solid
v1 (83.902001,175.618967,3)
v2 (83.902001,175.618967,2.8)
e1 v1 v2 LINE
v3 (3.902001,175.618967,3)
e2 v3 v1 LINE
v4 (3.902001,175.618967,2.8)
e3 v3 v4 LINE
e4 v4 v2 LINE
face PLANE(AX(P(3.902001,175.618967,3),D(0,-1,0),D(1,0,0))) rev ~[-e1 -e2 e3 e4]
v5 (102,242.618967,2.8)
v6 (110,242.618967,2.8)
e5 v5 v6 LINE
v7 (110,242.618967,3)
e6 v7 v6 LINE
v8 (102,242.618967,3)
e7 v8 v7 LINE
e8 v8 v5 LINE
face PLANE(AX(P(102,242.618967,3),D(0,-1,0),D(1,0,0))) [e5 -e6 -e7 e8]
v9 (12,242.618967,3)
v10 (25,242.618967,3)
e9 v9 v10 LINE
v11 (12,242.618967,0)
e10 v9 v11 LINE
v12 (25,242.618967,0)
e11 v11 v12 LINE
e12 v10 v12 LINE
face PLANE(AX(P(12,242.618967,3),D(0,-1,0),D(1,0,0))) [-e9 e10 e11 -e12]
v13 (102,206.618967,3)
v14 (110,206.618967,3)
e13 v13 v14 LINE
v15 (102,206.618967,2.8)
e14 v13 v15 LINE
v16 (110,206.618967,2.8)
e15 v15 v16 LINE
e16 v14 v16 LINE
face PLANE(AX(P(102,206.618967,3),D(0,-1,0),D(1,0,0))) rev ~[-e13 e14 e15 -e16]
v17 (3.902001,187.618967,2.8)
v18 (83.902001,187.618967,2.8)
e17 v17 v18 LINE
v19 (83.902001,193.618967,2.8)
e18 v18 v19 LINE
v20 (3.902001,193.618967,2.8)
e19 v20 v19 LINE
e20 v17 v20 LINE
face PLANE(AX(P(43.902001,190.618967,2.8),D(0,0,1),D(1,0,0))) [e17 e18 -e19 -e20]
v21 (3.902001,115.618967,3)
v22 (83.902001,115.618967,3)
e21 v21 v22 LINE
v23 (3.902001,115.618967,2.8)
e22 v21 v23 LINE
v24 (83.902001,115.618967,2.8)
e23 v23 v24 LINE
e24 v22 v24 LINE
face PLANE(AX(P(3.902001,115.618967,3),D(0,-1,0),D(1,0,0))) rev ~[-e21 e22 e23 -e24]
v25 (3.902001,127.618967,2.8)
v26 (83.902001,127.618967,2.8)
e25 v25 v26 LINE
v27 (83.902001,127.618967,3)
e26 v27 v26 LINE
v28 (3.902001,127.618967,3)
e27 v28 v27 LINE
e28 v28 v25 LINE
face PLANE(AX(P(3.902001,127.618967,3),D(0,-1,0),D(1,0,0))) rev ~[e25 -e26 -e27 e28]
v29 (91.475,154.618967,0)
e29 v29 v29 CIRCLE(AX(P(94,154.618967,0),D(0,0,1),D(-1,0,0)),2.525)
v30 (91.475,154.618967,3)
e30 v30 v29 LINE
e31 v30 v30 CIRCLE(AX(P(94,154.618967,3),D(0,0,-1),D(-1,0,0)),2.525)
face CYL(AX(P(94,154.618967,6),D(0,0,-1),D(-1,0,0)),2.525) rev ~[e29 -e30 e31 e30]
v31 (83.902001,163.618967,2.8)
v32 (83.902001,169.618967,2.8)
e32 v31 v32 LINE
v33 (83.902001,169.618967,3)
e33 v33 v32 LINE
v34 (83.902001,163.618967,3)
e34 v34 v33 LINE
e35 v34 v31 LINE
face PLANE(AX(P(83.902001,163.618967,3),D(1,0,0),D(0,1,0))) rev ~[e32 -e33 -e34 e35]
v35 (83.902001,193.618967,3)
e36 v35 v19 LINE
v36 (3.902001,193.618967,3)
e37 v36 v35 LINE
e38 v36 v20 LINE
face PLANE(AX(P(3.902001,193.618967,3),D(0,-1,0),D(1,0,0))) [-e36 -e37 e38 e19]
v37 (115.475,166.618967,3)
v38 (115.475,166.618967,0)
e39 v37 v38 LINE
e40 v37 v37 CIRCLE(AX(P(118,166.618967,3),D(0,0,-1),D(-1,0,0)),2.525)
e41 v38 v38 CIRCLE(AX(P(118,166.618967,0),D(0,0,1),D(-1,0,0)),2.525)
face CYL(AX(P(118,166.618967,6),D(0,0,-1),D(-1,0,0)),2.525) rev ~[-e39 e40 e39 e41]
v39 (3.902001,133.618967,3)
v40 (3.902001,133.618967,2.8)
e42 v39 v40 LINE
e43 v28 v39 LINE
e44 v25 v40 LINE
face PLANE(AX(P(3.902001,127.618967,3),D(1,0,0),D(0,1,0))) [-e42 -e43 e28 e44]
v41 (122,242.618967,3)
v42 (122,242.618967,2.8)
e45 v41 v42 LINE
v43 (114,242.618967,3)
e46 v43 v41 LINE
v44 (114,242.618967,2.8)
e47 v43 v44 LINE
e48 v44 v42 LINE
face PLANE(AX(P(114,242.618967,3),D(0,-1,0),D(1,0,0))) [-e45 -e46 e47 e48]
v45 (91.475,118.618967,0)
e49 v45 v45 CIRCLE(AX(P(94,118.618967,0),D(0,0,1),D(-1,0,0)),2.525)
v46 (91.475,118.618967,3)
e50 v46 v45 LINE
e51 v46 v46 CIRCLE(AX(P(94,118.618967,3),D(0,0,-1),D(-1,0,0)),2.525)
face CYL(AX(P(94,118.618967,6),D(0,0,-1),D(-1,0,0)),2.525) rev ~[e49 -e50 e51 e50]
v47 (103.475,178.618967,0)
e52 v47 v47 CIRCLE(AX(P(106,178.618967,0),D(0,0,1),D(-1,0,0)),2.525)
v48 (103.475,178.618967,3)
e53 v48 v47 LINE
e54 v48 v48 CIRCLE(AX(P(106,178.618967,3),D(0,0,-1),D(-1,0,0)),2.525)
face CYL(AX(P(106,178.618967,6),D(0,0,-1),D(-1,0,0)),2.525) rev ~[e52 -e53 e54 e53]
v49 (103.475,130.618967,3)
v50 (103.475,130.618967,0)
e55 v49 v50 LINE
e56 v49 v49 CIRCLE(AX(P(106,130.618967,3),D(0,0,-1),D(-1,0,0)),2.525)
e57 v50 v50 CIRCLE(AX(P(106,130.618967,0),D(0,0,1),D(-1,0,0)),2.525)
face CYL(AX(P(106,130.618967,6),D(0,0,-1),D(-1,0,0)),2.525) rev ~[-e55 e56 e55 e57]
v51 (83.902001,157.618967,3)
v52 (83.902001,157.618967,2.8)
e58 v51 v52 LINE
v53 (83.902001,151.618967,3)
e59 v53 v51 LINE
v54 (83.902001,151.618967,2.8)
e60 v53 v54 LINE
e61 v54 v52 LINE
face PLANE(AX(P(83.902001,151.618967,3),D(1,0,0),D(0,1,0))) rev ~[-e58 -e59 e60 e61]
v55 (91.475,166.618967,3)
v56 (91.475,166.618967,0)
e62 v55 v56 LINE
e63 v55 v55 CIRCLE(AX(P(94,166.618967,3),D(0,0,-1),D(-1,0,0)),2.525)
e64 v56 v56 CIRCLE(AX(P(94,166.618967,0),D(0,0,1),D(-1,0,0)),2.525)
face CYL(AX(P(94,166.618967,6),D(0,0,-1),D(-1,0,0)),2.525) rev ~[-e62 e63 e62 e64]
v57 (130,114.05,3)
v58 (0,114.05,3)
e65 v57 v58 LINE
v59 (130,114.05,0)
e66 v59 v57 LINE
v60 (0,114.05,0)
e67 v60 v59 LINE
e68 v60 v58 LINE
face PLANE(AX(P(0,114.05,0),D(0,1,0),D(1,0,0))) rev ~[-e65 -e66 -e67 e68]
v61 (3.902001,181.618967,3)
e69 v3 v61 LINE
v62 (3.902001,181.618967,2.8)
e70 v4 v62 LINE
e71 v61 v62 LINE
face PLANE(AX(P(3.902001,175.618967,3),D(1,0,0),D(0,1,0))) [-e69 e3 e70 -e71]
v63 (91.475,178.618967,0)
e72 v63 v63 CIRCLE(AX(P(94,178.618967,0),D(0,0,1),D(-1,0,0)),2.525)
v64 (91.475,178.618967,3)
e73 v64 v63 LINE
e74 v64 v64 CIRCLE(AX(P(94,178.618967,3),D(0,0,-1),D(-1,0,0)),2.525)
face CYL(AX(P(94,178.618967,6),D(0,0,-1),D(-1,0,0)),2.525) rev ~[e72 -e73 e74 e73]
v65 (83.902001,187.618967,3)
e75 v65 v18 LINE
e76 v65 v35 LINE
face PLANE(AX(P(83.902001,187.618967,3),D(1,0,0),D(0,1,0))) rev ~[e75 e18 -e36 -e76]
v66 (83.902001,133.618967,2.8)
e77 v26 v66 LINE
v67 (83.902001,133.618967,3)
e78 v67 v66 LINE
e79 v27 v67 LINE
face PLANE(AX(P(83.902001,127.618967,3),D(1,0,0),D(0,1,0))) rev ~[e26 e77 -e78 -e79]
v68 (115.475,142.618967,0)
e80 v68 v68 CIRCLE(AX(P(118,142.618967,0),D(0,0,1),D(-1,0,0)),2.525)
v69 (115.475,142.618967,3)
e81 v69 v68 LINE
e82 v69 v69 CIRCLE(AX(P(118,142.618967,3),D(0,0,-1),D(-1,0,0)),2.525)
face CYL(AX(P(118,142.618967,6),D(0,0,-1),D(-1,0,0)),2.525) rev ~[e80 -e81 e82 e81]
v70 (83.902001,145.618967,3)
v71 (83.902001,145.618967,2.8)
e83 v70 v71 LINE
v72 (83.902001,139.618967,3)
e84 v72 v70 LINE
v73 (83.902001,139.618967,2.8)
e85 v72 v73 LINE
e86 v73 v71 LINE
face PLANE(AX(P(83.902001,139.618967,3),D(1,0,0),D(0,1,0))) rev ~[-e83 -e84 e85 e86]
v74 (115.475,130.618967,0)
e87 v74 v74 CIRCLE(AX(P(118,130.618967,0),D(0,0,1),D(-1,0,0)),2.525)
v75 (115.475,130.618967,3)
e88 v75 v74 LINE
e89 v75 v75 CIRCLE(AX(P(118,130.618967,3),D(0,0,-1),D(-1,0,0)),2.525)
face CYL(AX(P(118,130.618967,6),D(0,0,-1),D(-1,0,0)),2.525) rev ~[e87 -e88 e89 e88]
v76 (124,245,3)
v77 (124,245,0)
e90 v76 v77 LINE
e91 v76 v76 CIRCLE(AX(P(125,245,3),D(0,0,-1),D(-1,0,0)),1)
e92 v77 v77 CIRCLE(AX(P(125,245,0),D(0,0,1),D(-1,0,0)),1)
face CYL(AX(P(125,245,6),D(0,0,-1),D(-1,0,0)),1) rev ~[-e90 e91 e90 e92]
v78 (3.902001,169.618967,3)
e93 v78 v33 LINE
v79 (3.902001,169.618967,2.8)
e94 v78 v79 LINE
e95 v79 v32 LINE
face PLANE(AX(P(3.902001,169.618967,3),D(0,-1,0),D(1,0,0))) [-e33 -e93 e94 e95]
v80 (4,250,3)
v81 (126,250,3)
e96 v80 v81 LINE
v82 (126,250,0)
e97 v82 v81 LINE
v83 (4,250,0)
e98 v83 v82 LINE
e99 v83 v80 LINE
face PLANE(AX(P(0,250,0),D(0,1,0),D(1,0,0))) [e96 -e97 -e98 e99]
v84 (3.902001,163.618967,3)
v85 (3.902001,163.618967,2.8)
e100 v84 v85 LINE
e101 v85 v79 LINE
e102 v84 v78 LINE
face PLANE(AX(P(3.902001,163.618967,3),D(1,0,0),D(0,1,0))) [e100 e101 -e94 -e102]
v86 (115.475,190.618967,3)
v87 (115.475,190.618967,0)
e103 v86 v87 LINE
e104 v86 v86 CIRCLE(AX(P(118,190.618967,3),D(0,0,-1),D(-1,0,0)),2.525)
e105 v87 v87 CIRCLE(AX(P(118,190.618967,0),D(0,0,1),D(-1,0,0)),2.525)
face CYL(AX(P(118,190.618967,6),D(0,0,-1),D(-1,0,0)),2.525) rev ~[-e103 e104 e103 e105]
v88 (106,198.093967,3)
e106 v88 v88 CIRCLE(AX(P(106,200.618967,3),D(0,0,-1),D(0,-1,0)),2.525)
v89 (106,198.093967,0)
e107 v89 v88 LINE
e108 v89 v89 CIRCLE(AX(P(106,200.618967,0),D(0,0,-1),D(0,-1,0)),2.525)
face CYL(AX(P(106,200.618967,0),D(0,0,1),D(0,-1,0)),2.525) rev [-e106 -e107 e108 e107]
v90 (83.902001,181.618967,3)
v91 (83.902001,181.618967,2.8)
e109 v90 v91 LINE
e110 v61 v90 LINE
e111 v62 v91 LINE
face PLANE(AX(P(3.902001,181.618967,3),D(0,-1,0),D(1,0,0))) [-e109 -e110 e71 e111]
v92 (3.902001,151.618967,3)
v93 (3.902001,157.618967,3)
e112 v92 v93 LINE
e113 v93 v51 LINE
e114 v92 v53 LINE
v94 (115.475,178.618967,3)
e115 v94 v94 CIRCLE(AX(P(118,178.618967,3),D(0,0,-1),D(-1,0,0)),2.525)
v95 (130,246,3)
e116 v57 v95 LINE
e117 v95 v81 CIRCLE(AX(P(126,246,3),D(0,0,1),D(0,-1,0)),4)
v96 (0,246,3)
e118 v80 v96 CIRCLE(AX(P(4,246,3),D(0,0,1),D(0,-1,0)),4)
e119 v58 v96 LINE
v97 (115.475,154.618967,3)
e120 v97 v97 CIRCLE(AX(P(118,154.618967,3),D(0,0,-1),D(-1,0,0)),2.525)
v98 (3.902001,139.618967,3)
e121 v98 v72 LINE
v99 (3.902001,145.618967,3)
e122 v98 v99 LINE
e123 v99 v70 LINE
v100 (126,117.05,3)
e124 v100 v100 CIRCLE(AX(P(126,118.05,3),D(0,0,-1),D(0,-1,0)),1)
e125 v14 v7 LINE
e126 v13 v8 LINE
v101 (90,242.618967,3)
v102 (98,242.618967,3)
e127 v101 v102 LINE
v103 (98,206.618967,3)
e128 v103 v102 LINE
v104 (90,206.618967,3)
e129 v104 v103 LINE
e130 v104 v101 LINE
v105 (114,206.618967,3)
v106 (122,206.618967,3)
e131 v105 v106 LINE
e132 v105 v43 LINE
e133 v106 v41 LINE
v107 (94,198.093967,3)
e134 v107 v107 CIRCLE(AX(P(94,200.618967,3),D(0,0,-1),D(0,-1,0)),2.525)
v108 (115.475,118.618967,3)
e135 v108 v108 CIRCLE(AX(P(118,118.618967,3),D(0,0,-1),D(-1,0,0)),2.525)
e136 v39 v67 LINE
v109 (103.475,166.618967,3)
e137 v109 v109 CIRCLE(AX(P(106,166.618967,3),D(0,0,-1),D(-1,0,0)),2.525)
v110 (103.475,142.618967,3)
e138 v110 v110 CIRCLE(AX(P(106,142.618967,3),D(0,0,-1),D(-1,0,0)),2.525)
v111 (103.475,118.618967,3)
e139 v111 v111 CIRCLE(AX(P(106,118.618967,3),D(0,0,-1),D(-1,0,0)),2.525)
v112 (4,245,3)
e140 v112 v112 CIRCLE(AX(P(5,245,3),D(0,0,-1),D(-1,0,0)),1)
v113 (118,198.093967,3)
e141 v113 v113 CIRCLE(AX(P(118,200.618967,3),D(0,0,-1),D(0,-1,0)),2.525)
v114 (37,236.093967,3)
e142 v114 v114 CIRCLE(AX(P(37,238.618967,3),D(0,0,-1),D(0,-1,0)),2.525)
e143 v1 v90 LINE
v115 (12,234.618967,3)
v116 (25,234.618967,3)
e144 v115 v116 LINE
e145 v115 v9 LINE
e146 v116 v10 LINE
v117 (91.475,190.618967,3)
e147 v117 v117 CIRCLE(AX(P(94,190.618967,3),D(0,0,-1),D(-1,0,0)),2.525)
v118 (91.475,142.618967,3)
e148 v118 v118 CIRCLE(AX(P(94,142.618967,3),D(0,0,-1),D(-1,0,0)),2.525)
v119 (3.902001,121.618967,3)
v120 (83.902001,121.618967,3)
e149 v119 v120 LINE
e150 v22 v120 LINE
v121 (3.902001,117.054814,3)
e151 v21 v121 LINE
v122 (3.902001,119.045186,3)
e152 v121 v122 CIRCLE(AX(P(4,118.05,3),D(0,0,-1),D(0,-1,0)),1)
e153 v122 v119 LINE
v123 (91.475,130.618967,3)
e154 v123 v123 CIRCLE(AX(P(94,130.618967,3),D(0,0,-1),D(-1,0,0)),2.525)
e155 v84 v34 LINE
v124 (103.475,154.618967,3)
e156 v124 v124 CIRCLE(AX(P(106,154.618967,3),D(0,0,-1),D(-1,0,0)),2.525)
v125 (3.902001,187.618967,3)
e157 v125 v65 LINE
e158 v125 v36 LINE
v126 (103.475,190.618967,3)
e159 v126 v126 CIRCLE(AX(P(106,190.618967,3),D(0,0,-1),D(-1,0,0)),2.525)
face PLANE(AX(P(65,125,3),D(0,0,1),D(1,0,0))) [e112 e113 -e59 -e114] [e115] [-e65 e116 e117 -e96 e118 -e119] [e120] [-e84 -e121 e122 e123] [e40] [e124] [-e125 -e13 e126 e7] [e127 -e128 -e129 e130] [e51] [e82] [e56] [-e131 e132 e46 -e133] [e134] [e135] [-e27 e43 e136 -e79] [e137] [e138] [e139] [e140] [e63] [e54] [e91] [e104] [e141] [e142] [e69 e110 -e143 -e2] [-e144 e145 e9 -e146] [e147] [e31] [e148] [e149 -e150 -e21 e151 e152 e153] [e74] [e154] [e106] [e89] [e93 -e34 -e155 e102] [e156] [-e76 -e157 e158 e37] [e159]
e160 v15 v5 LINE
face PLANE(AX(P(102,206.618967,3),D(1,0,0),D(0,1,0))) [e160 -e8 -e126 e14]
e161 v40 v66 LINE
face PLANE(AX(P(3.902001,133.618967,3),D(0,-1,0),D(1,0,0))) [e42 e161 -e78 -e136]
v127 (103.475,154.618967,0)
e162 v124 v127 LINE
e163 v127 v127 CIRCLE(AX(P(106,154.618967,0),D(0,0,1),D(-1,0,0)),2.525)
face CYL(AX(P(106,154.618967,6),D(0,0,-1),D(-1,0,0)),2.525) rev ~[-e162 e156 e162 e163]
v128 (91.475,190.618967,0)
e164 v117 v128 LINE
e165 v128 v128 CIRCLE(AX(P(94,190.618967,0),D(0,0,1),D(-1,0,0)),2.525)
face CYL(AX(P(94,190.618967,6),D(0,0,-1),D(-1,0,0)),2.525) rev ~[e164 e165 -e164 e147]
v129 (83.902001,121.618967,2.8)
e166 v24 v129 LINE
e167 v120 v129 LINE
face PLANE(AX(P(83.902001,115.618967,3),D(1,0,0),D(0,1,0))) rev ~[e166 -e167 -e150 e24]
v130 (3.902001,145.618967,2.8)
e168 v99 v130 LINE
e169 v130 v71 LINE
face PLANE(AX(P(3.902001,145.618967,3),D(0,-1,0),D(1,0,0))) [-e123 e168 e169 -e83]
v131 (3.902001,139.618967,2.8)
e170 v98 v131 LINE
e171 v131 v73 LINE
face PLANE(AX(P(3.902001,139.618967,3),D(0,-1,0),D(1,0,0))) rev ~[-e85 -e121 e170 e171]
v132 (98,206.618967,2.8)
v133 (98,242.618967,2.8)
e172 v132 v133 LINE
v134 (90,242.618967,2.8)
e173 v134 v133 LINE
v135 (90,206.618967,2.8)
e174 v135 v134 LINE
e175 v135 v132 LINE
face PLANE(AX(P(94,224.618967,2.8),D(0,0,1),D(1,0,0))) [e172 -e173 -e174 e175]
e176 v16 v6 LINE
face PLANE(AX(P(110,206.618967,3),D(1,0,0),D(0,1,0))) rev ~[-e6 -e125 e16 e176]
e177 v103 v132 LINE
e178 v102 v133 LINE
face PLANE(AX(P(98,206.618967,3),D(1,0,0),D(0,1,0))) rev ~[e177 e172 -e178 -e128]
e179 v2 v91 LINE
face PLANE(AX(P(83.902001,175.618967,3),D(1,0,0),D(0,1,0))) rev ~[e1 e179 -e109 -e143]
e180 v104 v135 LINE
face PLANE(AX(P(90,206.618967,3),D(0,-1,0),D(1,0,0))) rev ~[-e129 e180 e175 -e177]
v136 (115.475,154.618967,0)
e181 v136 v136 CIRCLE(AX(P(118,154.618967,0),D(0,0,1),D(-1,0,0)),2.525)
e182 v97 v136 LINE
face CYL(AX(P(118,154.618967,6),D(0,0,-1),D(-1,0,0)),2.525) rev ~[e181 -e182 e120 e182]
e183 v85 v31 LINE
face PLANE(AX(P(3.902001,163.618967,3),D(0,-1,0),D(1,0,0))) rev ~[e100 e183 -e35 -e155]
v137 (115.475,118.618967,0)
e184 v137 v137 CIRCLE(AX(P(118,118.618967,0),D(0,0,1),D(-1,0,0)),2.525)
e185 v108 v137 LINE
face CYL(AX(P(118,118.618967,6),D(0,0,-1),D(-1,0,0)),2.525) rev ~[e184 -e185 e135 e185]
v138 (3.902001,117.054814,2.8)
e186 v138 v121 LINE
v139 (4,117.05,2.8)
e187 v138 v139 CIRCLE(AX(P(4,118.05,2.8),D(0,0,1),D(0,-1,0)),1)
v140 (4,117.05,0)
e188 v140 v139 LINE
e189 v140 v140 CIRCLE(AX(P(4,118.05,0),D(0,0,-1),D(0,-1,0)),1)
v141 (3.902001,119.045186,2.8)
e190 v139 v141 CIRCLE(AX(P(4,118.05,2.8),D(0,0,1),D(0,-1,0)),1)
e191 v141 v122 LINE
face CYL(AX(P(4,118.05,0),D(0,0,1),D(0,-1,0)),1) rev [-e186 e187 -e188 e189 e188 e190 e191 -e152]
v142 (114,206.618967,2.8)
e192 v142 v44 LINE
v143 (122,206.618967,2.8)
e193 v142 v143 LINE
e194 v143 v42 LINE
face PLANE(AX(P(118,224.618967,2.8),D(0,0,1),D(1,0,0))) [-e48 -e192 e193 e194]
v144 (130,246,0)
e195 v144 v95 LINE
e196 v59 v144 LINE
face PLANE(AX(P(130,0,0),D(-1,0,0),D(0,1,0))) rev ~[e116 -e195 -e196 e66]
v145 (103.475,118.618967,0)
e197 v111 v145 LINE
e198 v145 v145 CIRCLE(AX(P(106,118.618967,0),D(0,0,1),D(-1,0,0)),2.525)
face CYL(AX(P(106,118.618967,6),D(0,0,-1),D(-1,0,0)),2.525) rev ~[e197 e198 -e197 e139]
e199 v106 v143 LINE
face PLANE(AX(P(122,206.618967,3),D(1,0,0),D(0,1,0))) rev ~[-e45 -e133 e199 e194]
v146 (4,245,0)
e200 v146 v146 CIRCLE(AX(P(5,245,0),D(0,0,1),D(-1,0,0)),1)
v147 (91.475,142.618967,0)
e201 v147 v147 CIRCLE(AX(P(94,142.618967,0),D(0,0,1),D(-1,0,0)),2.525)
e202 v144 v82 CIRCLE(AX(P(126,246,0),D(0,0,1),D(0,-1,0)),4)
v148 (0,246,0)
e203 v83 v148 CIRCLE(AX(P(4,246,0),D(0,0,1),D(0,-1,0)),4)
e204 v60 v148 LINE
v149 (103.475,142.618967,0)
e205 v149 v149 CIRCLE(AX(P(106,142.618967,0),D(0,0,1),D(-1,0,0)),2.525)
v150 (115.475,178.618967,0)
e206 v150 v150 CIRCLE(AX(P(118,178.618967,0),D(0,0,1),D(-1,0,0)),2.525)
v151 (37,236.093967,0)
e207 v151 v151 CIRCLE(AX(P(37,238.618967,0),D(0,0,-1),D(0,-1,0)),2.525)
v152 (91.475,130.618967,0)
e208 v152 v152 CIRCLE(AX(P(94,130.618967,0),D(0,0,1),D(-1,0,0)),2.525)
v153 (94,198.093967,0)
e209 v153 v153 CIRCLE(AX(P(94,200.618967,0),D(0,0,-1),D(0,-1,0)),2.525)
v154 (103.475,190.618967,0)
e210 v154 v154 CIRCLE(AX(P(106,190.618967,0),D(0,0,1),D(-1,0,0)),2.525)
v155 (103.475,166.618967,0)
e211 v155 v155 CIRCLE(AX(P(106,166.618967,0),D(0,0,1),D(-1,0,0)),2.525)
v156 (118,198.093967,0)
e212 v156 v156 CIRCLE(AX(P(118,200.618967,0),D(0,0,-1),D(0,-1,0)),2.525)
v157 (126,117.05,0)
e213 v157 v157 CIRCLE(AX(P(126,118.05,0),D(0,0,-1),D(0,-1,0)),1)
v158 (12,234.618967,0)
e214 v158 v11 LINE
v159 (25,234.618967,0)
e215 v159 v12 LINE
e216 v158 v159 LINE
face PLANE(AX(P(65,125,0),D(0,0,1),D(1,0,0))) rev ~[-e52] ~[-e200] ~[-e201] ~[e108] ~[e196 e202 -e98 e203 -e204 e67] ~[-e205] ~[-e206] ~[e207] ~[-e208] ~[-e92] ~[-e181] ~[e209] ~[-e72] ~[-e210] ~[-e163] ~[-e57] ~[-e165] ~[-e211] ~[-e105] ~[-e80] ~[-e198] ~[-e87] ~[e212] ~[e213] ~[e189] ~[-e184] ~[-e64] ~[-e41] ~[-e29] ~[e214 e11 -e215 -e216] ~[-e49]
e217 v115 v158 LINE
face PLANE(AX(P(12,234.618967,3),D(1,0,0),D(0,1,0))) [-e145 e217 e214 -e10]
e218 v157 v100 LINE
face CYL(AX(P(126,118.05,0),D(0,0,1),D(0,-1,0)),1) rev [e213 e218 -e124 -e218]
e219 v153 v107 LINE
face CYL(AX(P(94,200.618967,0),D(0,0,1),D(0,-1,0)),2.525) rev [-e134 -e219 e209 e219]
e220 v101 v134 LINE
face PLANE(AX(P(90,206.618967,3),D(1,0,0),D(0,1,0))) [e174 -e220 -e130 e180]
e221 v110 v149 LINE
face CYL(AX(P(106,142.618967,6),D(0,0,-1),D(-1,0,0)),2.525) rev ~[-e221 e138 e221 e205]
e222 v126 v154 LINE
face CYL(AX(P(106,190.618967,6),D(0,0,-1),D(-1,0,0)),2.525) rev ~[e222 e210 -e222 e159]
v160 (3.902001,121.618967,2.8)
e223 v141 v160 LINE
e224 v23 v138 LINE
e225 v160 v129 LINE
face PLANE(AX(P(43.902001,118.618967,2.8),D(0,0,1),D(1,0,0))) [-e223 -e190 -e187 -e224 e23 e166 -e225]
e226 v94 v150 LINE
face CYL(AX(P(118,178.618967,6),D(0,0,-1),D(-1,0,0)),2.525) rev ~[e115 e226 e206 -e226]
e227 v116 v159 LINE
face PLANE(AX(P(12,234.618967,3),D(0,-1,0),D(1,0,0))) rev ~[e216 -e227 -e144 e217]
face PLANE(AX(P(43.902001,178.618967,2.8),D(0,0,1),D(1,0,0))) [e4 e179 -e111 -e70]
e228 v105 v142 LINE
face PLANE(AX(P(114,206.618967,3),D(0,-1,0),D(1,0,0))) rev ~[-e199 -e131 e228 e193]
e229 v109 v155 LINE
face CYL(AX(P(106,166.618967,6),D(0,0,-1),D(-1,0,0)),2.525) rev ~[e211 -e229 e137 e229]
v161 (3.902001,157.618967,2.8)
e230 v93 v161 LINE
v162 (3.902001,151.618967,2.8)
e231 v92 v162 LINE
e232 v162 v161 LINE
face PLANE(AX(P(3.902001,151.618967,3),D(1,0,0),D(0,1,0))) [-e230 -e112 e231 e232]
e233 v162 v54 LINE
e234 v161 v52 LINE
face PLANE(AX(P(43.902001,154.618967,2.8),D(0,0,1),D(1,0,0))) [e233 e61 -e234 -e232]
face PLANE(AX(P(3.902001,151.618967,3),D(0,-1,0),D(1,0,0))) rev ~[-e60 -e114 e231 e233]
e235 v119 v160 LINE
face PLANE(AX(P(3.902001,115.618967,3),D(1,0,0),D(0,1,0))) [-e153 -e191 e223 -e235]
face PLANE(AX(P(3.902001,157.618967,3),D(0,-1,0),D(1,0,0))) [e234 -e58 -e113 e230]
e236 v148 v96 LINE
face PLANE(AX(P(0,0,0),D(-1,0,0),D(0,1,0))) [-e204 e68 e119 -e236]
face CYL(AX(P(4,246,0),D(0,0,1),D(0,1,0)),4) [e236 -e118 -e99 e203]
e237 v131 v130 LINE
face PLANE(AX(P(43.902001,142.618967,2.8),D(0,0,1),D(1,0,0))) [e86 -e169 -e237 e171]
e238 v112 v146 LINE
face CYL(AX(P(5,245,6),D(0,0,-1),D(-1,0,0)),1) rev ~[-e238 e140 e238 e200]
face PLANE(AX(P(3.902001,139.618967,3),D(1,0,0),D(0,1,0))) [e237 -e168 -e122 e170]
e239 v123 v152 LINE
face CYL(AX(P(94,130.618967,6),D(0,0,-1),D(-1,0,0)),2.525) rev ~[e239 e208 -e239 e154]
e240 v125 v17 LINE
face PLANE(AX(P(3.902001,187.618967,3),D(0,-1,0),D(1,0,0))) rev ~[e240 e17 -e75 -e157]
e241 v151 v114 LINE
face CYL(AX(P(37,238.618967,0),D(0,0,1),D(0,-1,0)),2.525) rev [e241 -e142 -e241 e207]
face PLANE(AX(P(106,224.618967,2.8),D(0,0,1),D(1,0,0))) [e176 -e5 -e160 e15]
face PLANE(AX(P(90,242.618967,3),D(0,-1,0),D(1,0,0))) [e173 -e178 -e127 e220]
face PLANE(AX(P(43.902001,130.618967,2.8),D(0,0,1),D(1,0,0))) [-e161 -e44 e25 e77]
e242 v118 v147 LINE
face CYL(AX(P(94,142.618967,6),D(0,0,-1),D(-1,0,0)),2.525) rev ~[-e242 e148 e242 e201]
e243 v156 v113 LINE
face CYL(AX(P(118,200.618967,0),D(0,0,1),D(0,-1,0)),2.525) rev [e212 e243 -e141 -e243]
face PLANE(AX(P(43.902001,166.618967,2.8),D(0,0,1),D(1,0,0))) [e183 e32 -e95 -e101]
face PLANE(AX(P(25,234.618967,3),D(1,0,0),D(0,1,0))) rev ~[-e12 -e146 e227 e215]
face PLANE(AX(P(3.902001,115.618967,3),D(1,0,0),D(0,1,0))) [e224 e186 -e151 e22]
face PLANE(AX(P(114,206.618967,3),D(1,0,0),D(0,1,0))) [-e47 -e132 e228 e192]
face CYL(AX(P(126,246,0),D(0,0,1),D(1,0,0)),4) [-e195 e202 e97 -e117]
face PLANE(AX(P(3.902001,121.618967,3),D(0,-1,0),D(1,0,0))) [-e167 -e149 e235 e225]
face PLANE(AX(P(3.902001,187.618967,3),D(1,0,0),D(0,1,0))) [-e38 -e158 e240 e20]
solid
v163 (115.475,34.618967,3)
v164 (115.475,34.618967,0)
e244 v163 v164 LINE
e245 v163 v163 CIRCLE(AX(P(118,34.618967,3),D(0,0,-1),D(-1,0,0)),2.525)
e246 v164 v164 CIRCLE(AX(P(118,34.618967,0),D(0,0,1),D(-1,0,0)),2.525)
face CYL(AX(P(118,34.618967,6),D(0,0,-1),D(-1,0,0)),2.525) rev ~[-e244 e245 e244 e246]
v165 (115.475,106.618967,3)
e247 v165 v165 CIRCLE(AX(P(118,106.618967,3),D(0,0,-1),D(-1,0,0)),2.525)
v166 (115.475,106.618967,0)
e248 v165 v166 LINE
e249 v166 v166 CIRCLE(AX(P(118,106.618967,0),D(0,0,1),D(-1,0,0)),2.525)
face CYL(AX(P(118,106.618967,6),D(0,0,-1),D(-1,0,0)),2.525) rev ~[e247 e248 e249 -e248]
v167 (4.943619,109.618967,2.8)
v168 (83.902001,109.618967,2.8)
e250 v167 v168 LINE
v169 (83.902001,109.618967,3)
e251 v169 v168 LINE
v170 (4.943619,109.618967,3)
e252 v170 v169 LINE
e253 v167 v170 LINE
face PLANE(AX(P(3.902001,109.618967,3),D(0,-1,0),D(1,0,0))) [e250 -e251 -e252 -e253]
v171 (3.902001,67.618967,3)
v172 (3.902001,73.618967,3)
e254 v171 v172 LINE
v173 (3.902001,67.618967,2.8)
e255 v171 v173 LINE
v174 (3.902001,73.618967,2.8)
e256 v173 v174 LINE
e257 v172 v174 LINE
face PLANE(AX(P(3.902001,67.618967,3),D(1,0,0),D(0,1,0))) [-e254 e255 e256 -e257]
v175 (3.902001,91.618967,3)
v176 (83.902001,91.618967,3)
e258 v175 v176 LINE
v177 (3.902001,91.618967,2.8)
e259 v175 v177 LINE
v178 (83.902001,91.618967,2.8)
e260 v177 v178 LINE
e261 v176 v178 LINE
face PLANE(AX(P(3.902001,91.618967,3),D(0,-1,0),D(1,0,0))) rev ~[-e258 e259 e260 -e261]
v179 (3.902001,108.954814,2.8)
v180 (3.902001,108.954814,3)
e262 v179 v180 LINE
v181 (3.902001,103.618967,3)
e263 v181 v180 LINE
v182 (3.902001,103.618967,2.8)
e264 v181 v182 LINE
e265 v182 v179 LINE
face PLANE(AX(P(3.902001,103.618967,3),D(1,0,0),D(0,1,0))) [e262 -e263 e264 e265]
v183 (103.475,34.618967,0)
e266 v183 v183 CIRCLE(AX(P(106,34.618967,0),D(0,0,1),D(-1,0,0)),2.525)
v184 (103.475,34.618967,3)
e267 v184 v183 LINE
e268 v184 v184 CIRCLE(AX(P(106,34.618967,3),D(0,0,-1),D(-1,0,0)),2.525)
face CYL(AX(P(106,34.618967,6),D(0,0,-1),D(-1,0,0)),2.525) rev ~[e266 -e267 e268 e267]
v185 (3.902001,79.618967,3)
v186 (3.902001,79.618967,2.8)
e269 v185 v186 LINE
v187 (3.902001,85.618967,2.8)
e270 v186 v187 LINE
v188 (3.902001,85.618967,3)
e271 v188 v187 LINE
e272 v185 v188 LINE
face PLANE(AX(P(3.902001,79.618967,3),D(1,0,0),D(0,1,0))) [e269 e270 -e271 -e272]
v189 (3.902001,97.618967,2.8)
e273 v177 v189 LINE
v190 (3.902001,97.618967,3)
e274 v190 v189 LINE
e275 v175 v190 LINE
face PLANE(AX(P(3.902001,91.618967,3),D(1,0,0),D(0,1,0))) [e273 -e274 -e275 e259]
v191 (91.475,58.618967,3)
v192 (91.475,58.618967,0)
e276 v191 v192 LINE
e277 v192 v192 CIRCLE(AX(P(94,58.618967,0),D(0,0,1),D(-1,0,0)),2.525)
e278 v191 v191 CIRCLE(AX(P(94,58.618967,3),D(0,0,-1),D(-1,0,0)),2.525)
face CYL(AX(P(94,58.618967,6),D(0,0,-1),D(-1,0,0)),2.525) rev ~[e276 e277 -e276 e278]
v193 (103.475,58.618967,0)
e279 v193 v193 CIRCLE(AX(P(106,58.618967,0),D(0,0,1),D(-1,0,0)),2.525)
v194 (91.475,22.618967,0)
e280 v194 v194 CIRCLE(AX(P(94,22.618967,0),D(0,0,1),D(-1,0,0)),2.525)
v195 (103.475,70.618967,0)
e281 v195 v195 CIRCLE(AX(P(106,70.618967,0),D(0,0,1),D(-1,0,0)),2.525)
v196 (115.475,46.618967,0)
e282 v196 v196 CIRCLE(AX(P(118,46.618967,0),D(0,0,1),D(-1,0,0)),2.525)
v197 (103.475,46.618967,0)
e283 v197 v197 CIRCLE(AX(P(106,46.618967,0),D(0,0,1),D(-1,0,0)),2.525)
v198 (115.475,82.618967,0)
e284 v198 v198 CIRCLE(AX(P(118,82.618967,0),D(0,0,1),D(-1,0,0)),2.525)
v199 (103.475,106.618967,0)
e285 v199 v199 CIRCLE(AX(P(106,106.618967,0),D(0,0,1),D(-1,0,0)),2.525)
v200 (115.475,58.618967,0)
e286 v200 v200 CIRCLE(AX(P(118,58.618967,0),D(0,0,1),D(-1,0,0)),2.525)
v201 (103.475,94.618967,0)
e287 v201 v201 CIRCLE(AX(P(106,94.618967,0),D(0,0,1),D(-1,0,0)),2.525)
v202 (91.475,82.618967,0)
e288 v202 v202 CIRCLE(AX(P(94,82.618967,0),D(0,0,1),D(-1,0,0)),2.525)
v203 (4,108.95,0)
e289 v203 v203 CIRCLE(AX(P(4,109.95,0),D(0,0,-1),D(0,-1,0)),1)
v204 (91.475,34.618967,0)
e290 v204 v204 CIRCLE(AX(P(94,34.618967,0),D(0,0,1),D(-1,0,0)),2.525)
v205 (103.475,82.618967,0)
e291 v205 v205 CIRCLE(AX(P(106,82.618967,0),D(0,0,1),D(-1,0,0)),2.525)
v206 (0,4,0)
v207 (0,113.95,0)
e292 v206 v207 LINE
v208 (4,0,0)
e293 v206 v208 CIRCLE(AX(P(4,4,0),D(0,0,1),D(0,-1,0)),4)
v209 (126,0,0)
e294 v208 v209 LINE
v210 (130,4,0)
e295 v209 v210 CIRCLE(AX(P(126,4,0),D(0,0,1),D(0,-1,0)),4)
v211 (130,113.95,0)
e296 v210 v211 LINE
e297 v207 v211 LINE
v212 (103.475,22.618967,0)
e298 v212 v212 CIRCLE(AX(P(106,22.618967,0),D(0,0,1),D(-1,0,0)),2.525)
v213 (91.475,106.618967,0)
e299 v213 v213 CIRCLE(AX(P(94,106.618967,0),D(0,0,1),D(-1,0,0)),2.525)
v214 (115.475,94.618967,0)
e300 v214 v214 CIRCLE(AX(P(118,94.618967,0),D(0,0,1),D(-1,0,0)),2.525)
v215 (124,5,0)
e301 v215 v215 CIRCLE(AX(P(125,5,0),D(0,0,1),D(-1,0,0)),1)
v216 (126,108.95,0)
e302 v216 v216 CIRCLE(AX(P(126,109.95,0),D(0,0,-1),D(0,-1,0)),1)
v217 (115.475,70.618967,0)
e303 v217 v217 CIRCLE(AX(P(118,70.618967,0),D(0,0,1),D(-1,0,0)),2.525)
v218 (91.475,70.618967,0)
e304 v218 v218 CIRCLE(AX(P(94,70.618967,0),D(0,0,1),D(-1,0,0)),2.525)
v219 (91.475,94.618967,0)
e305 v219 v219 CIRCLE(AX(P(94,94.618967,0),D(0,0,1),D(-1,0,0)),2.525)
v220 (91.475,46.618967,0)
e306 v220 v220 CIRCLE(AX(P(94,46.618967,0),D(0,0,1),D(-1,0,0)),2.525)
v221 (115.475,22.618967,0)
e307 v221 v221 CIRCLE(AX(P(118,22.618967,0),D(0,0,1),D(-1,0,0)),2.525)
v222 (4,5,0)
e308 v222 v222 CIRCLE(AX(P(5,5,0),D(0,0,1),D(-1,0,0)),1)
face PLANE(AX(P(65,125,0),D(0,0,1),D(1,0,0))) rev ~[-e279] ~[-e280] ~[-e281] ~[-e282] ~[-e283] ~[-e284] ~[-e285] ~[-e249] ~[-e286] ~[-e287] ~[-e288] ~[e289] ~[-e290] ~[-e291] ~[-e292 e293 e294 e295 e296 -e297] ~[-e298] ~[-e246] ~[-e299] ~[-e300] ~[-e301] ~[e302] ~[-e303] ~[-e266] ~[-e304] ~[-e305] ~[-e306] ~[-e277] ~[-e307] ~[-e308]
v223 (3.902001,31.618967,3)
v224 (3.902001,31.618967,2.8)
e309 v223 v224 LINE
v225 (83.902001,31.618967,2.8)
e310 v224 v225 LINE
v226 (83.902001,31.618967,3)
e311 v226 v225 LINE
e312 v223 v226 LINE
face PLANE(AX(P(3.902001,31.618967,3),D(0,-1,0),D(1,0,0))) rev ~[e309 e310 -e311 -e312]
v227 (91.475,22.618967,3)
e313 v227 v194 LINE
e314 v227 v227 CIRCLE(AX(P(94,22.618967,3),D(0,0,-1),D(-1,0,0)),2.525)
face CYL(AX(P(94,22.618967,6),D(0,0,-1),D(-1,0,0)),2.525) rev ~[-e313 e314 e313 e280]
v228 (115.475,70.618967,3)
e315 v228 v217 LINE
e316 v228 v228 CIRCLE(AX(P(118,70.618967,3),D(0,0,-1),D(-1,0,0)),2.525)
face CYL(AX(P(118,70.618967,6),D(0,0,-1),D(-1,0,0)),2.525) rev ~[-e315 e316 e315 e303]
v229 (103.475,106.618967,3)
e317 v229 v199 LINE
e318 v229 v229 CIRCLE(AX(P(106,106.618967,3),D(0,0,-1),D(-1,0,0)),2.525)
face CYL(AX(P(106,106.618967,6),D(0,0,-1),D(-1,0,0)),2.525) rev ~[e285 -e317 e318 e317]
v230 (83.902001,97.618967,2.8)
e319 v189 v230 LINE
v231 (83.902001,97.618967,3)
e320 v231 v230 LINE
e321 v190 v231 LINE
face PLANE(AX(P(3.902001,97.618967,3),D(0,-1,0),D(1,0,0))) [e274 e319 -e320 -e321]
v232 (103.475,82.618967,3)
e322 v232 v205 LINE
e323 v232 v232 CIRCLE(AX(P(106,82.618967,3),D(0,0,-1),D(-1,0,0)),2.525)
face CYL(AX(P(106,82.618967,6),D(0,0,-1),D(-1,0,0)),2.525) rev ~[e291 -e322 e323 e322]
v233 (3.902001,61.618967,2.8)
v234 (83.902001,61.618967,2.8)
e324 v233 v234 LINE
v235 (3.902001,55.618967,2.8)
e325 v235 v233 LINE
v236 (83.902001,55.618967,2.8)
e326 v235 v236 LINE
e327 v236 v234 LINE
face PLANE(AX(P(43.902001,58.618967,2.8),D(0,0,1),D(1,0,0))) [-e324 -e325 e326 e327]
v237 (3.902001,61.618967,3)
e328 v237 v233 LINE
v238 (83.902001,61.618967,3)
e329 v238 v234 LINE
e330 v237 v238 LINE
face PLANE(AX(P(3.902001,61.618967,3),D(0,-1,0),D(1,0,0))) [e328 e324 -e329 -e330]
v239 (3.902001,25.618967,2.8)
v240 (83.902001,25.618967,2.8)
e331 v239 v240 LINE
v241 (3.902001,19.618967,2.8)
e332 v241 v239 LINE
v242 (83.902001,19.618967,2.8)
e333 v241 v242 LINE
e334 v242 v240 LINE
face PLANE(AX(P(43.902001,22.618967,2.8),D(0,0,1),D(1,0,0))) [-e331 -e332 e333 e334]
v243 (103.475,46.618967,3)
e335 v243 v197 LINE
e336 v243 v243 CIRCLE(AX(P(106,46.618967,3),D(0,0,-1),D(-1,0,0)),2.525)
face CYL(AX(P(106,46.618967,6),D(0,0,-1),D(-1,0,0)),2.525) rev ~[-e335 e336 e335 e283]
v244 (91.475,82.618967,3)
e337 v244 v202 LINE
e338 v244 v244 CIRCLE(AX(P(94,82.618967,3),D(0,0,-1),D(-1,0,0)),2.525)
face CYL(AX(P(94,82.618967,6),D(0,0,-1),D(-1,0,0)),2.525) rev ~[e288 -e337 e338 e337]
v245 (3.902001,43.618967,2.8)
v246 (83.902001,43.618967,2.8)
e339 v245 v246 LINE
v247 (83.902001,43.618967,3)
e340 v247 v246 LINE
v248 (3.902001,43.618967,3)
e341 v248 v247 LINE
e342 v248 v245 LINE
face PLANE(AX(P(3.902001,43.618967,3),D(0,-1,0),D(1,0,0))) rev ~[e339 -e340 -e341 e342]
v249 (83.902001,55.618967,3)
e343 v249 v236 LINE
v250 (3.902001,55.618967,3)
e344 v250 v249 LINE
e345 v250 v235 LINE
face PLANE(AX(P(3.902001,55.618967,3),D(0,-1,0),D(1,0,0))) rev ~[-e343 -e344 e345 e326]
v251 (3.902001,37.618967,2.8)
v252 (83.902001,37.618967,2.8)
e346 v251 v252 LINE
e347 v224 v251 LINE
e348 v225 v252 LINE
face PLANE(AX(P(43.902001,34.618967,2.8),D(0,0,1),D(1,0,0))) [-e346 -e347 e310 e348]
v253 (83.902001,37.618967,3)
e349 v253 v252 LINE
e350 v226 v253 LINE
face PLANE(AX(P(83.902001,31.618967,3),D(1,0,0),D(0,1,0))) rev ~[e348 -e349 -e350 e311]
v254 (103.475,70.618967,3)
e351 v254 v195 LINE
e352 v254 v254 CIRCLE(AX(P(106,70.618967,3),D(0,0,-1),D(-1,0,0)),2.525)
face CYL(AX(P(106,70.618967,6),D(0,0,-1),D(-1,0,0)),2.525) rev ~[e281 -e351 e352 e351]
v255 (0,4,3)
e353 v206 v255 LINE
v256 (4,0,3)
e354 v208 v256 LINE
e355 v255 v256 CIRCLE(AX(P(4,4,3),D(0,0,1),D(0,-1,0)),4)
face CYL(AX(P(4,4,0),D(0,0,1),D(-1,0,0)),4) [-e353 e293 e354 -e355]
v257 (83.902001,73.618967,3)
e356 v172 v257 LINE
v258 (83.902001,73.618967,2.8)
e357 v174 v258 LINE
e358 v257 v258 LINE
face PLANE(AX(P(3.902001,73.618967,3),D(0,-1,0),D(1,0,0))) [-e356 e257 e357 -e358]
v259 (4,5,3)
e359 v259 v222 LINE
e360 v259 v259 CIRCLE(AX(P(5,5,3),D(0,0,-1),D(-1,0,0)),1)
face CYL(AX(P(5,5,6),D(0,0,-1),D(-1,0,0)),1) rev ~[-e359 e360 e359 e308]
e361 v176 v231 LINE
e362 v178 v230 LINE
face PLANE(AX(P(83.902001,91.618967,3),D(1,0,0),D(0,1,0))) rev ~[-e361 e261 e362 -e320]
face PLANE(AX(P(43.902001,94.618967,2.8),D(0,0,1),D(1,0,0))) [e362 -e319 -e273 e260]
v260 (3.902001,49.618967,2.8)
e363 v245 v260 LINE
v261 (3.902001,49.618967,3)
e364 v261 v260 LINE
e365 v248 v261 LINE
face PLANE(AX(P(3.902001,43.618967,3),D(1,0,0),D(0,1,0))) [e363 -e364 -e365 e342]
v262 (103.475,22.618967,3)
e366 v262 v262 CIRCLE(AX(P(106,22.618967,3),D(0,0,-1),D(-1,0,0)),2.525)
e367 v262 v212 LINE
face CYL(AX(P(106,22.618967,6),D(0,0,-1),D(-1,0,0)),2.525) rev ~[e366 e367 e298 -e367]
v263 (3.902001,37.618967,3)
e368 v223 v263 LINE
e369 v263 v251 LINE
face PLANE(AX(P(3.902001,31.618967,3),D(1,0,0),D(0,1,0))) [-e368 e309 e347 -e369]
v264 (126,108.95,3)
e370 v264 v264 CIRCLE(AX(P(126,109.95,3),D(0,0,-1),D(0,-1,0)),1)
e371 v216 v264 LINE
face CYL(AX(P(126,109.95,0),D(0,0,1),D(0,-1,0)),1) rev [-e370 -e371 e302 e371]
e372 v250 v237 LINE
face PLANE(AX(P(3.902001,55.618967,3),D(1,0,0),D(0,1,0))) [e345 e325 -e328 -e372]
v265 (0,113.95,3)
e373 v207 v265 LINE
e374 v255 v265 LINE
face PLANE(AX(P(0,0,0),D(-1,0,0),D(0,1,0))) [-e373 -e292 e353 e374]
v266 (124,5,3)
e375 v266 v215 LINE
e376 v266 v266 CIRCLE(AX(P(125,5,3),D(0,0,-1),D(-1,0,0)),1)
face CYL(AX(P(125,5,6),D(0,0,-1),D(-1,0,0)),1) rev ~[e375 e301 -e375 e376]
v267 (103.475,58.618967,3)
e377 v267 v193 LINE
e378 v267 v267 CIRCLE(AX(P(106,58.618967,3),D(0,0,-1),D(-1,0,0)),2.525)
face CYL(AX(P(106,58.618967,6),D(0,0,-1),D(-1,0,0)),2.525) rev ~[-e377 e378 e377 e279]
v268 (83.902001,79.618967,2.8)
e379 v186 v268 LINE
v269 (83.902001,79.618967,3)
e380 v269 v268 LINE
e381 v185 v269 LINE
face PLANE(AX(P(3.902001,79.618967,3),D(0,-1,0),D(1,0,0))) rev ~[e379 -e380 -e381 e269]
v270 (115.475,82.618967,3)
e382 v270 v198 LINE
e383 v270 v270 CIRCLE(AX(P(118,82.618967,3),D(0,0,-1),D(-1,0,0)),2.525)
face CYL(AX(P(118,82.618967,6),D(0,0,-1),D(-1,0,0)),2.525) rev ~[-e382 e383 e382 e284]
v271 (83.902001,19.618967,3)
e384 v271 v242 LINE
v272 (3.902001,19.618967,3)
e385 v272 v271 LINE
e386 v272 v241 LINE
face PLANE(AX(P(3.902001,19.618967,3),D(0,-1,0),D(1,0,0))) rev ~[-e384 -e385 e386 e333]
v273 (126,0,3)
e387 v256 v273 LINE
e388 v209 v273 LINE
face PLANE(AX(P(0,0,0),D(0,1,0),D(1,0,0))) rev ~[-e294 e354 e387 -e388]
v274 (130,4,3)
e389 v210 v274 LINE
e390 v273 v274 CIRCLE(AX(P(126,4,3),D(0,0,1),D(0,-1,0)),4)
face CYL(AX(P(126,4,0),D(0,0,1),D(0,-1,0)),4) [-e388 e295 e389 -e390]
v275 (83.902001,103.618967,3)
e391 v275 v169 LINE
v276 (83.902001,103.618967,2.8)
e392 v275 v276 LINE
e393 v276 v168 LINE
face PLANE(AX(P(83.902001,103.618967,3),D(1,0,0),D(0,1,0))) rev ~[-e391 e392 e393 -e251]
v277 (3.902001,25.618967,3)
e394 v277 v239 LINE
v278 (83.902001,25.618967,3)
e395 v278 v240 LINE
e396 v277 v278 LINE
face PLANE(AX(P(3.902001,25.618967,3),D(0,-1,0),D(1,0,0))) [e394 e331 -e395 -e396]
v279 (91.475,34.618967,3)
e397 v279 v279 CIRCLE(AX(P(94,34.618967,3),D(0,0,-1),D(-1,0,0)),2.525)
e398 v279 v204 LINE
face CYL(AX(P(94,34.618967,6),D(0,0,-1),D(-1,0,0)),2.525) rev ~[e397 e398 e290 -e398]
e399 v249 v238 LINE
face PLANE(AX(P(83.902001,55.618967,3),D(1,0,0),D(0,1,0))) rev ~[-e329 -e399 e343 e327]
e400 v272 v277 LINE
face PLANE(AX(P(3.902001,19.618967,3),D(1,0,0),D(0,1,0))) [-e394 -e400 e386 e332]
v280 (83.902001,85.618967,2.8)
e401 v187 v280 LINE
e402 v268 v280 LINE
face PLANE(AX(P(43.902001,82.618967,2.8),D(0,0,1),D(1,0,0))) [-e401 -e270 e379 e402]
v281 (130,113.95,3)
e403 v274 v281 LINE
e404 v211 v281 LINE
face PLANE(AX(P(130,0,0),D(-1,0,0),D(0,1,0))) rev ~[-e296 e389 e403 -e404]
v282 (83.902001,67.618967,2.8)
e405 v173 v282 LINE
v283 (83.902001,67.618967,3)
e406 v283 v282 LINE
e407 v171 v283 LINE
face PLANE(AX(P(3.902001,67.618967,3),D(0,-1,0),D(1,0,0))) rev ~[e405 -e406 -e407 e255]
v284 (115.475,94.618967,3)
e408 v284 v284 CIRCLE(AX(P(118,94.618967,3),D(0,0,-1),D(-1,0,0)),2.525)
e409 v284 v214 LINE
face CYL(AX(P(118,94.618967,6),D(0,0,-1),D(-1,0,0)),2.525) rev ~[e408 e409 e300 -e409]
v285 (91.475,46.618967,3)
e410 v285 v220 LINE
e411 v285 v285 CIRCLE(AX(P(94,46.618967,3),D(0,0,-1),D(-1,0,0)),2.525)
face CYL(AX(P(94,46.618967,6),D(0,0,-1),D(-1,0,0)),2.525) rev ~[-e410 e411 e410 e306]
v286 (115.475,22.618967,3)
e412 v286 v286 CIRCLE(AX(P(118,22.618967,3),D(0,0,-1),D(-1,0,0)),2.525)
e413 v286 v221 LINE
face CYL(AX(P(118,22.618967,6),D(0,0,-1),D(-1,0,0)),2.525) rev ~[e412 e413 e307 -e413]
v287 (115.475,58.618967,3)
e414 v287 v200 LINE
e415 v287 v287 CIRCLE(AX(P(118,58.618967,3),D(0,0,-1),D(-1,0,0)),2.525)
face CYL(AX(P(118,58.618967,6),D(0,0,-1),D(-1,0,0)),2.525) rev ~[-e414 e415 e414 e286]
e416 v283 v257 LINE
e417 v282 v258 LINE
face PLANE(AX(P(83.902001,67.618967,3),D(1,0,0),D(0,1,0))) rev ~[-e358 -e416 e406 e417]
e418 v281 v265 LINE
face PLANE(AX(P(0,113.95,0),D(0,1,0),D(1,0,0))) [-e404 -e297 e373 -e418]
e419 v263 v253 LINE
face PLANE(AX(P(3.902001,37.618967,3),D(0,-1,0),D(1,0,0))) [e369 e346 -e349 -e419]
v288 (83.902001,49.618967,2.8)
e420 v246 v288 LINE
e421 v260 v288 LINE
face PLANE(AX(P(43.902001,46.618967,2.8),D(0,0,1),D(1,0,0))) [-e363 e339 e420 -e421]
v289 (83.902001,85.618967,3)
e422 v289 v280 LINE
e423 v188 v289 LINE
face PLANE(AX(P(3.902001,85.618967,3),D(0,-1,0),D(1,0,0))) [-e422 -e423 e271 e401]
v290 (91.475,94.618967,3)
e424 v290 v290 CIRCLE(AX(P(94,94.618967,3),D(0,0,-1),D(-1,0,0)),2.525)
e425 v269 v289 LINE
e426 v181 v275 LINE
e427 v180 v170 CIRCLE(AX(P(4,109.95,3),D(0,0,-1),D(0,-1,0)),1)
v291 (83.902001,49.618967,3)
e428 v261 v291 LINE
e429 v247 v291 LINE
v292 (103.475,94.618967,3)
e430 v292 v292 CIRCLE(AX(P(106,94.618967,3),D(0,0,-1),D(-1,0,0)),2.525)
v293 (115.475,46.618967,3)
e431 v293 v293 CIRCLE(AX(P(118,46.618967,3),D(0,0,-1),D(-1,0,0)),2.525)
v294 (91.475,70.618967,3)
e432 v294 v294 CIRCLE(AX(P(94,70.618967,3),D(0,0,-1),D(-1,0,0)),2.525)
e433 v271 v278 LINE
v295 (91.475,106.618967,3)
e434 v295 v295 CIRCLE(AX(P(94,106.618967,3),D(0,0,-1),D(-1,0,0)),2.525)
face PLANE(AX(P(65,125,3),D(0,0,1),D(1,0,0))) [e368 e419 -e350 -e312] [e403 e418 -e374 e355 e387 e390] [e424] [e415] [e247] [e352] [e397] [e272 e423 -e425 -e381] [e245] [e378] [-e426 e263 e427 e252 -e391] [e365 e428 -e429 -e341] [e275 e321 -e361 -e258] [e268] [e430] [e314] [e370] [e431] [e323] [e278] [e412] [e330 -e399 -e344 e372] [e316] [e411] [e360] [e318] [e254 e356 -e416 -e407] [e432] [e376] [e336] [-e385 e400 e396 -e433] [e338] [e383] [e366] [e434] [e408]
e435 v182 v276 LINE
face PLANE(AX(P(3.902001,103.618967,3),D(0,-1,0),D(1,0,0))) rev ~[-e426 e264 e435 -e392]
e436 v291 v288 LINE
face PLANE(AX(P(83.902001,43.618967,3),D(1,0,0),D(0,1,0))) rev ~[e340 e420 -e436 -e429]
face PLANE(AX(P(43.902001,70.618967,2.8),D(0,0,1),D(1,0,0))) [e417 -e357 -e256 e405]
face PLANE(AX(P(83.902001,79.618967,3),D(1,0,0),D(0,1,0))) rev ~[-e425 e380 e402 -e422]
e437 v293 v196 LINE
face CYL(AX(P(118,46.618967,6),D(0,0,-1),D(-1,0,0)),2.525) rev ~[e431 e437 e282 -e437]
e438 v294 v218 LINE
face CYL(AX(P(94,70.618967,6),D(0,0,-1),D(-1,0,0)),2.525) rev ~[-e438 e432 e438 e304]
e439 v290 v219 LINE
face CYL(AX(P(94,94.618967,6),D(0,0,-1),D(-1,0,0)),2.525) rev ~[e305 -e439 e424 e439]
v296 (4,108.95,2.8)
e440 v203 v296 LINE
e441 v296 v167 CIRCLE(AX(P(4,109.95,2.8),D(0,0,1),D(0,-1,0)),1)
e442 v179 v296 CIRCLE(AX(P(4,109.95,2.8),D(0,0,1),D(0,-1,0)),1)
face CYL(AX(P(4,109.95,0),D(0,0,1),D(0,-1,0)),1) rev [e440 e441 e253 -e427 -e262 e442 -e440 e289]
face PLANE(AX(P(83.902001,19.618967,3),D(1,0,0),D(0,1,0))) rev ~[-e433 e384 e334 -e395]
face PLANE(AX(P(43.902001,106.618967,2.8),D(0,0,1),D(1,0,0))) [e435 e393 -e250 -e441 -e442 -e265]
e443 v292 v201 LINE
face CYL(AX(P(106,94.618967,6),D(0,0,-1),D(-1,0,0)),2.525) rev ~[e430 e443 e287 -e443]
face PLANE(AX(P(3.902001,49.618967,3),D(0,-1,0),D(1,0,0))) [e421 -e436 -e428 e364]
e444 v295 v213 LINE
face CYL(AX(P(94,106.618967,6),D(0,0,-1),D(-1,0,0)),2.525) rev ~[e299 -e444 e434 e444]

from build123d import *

# Parameters (mm, degrees)
SKIZZE1_W                                   = 130
SKIZZE1_H                                   = 250
AUFSATZ_LINEAR_AUSTRAGEN1_DEPTH             = 3
VERRUNDUNG1_R                               = 4
VERRUNDUNG2_R                               = 4
VERRUNDUNG3_R                               = 4
VERRUNDUNG4_R                               = 4
F_2_0_2_DURCHMESSER_BOHRUNG1_D              = 2
F_2_0_2_DURCHMESSER_BOHRUNG1_DEPTH          = 3
F_2_0_2_DURCHMESSER_BOHRUNG1_TIP            = 0.600860619
SKIZZE6_W                                   = 8
SKIZZE6_H                                   = 36
SCHNITT_LINEAR_AUSTRAGEN1_DEPTH             = 0.2
F_5_05_5_05_DURCHMESSER_BOHRUNG1_D          = 5.05
F_5_05_5_05_DURCHMESSER_BOHRUNG1_DEPTH      = 3
F_5_05_5_05_DURCHMESSER_BOHRUNG1_TIP        = 1.517173063
SCHNITT_LINEAR_AUSTRAGEN_D_NN1_DEPTH        = 282.796025522
SCHNITT_LINEAR_AUSTRAGEN_D_NN1_DEPTH_BACK   = 3
SKIZZE13_W                                  = 130
SKIZZE13_H                                  = 0.1
F_5_05_5_05_DURCHMESSER_BOHRUNG3_AT_2_COUNT = 2
F_5_05_5_05_DURCHMESSER_BOHRUNG3_AT_2_PITCH = 12
F_5_05_5_05_DURCHMESSER_BOHRUNG3_AT_3_COUNT = 2
F_5_05_5_05_DURCHMESSER_BOHRUNG3_AT_3_PITCH = 24
F_2_0_2_DURCHMESSER_BOHRUNG2_AT_2_COUNT     = 2
F_2_0_2_DURCHMESSER_BOHRUNG2_AT_2_PITCH     = 122
F_2_0_2_DURCHMESSER_BOHRUNG2_AT_3_COUNT     = 2
F_2_0_2_DURCHMESSER_BOHRUNG2_AT_3_PITCH     = 122.268597767
F_2_0_2_DURCHMESSER_BOHRUNG2_AT_4_COUNT     = 2
F_2_0_2_DURCHMESSER_BOHRUNG2_AT_4_PITCH     = 8.1
SKIZZE19_W                                  = 80
SKIZZE19_H                                  = 6
SCHNITT_LINEAR_AUSTRAGEN2_DEPTH             = 0.2
SKIZZE20_W                                  = 13
SKIZZE20_H                                  = 8
SCHNITT_LINEAR_AUSTRAGEN3_DEPTH             = 30


with BuildPart() as part:
    # Skizze1 → Aufsatz-Linear austragen1 (new body)
    with BuildSketch(Plane.XY):
        with Locations((65, 125)):
            Rectangle(SKIZZE1_W, SKIZZE1_H)
    extrude(amount=AUFSATZ_LINEAR_AUSTRAGEN1_DEPTH)

    # Verrundung1
    verrundung1_edges = [part.edges().sort_by_distance(p)[0] for p in [
        (130, 0, 1.5),
    ]]
    fillet(verrundung1_edges, radius=VERRUNDUNG1_R)

    # Verrundung2
    verrundung2_edges = [part.edges().sort_by_distance(p)[0] for p in [
        (130, 250, 1.5),
    ]]
    fillet(verrundung2_edges, radius=VERRUNDUNG2_R)

    # Verrundung3
    verrundung3_edges = [part.edges().sort_by_distance(p)[0] for p in [
        (0, 250, 1.5),
    ]]
    fillet(verrundung3_edges, radius=VERRUNDUNG3_R)

    # Verrundung4
    verrundung4_edges = [part.edges().sort_by_distance(p)[0] for p in [
        (0, 0, 1.5),
    ]]
    fillet(verrundung4_edges, radius=VERRUNDUNG4_R)

    # Ø2.0 (2) Durchmesser Bohrung1
    with Locations(Plane.XY.offset(3)):
        with Locations((5, 5), (125, 5), (125, 245), (5, 245)):
            Hole(F_2_0_2_DURCHMESSER_BOHRUNG1_D / 2, depth=F_2_0_2_DURCHMESSER_BOHRUNG1_DEPTH)
            with Locations((0, 0, -(F_2_0_2_DURCHMESSER_BOHRUNG1_DEPTH + F_2_0_2_DURCHMESSER_BOHRUNG1_TIP / 2))):  # 118° drill point
                Cone(0, F_2_0_2_DURCHMESSER_BOHRUNG1_D / 2, F_2_0_2_DURCHMESSER_BOHRUNG1_TIP, mode=Mode.SUBTRACT)

    # Skizze6 → Schnitt-Linear austragen1 (cut)
    with BuildSketch(Plane.XY.offset(3)):
        with Locations((94, 224.618967)):
            Rectangle(SKIZZE6_W, SKIZZE6_H)
        with Locations((106, 224.618967)):
            Rectangle(SKIZZE6_W, SKIZZE6_H)
        with Locations((118, 224.618967)):
            Rectangle(SKIZZE6_W, SKIZZE6_H)
    extrude(amount=-SCHNITT_LINEAR_AUSTRAGEN1_DEPTH, mode=Mode.SUBTRACT)

    # Ø5.05 (5.05) Durchmesser Bohrung1
    with Locations(Plane.XY.offset(3)):
        with Locations((94, 190.618967), (106, 190.618967), (118, 190.618967), (106, 178.618967), (118, 178.618967), (106, 166.618967), (118, 166.618967), (106, 154.618967), (118, 154.618967), (106, 142.618967), (118, 142.618967), (106, 130.618967), (118, 130.618967), (106, 118.618967), (118, 118.618967), (106, 106.618967), (118, 106.618967), (106, 94.618967), (118, 94.618967), (106, 82.618967), (118, 82.618967), (106, 70.618967), (118, 70.618967), (106, 58.618967), (118, 58.618967), (106, 46.618967), (118, 46.618967), (106, 34.618967), (118, 34.618967), (106, 22.618967), (118, 22.618967), (94, 178.618967), (94, 166.618967), (94, 154.618967), (94, 142.618967), (94, 130.618967), (94, 118.618967), (94, 106.618967), (94, 94.618967), (94, 82.618967), (94, 70.618967), (94, 58.618967), (94, 46.618967), (94, 34.618967), (94, 22.618967)):
            Hole(F_5_05_5_05_DURCHMESSER_BOHRUNG1_D / 2, depth=F_5_05_5_05_DURCHMESSER_BOHRUNG1_DEPTH)
            with Locations((0, 0, -(F_5_05_5_05_DURCHMESSER_BOHRUNG1_DEPTH + F_5_05_5_05_DURCHMESSER_BOHRUNG1_TIP / 2))):  # 118° drill point
                Cone(0, F_5_05_5_05_DURCHMESSER_BOHRUNG1_D / 2, F_5_05_5_05_DURCHMESSER_BOHRUNG1_TIP, mode=Mode.SUBTRACT)

    # Skizze13 → Schnitt-Linear-Austragen-Dünn1 (cut, two sides: drawn at the far end of the back side and taken through both)
    with BuildSketch(Plane.XY.offset(3).offset(-SCHNITT_LINEAR_AUSTRAGEN_D_NN1_DEPTH_BACK)):
        with Locations((65, 114)):
            Rectangle(SKIZZE13_W, SKIZZE13_H)
    extrude(amount=SCHNITT_LINEAR_AUSTRAGEN_D_NN1_DEPTH + SCHNITT_LINEAR_AUSTRAGEN_D_NN1_DEPTH_BACK, mode=Mode.SUBTRACT)


with BuildPart() as schnitt_linear_austragen_d_nn1_piece_1:
    # of the separate pieces the step leaves, piece 1, a body of its own (schnitt_linear_austragen_d_nn1_pieces)
    add(part.part.solids().sort_by_distance((4, 250, 0))[0])

    # Skizze15 → Ø5.05 (5.05) Durchmesser Bohrung3 (revolve, cut)
    with BuildSketch(Plane(origin=(94, 200.618967, 3), x_dir=(0, -1, 0), z_dir=(1, 0, 0))):
        Polygon((0, 0), (0, 4.517173063), (2.525, 3), (2.525, 0), align=None)
    f_5_05_5_05_durchmesser_bohrung3 = revolve(axis=Axis((94, 200.618967, 9.35), (0, 0, -1)), mode=Mode.SUBTRACT)

    # Ø5.05 (5.05) Durchmesser Bohrung3 at 2: Ø5.05 (5.05) Durchmesser Bohrung3 ×2
    with Locations(*[(i * F_5_05_5_05_DURCHMESSER_BOHRUNG3_AT_2_PITCH, 0, 0) for i in range(1, F_5_05_5_05_DURCHMESSER_BOHRUNG3_AT_2_COUNT)]):
        add(f_5_05_5_05_durchmesser_bohrung3, mode=Mode.SUBTRACT)

    # Ø5.05 (5.05) Durchmesser Bohrung3 at 3: Ø5.05 (5.05) Durchmesser Bohrung3 ×2
    with Locations(*[(i * F_5_05_5_05_DURCHMESSER_BOHRUNG3_AT_3_PITCH, 0, 0) for i in range(1, F_5_05_5_05_DURCHMESSER_BOHRUNG3_AT_3_COUNT)]):
        add(f_5_05_5_05_durchmesser_bohrung3, mode=Mode.SUBTRACT)

    # Skizze17 → Ø2.0 (2) Durchmesser Bohrung2 (revolve, cut)
    with BuildSketch(Plane(origin=(126, 118.05, 3), x_dir=(0, -1, 0), z_dir=(1, 0, 0))):
        Polygon((0, 0), (0, 3.600860619), (1, 3), (1, 0), align=None)
    f_2_0_2_durchmesser_bohrung2 = revolve(axis=Axis((126, 118.05, 9.35), (0, 0, -1)), mode=Mode.SUBTRACT)

    # Ø2.0 (2) Durchmesser Bohrung2 at 2: Ø2.0 (2) Durchmesser Bohrung2 ×2
    with Locations(*[(-i * F_2_0_2_DURCHMESSER_BOHRUNG2_AT_2_PITCH, 0, 0) for i in range(1, F_2_0_2_DURCHMESSER_BOHRUNG2_AT_2_COUNT)]):
        add(f_2_0_2_durchmesser_bohrung2, mode=Mode.SUBTRACT)


with BuildPart() as schnitt_linear_austragen_d_nn1_piece_2:
    # of the separate pieces the step leaves, piece 2, a body of its own (schnitt_linear_austragen_d_nn1_pieces)
    add(part.part.solids().sort_by_distance((0, 113.95, 0))[0])

    # Ø2.0 (2) Durchmesser Bohrung2 at 3: Ø2.0 (2) Durchmesser Bohrung2 ×2
    with Locations(*[Vector(-0.9978032154430572, -0.06624759053351441, 0) * (i * F_2_0_2_DURCHMESSER_BOHRUNG2_AT_3_PITCH) for i in range(1, F_2_0_2_DURCHMESSER_BOHRUNG2_AT_3_COUNT)]):
        add(f_2_0_2_durchmesser_bohrung2, mode=Mode.SUBTRACT)

    # Ø2.0 (2) Durchmesser Bohrung2 at 4: Ø2.0 (2) Durchmesser Bohrung2 ×2
    with Locations(*[(0, -i * F_2_0_2_DURCHMESSER_BOHRUNG2_AT_4_PITCH, 0) for i in range(1, F_2_0_2_DURCHMESSER_BOHRUNG2_AT_4_COUNT)]):
        add(f_2_0_2_durchmesser_bohrung2, mode=Mode.SUBTRACT)


with BuildPart() as schnitt_linear_austragen2_tool:
    # Skizze19 → Schnitt-Linear austragen2 (new body)
    with BuildSketch(Plane.XY.offset(3)):
        with Locations((43.902000862, 178.618967)):
            Rectangle(SKIZZE19_W, SKIZZE19_H)
        with Locations((43.902000862, 190.618967)):
            Rectangle(SKIZZE19_W, SKIZZE19_H)
        with Locations((43.902000862, 166.618967)):
            Rectangle(SKIZZE19_W, SKIZZE19_H)
        with Locations((43.902000862, 154.618967)):
            Rectangle(SKIZZE19_W, SKIZZE19_H)
        with Locations((43.902000862, 142.618967)):
            Rectangle(SKIZZE19_W, SKIZZE19_H)
        with Locations((43.902000862, 130.618967)):
            Rectangle(SKIZZE19_W, SKIZZE19_H)
        with Locations((43.902000862, 118.618967)):
            Rectangle(SKIZZE19_W, SKIZZE19_H)
        with Locations((43.902000862, 106.618967)):
            Rectangle(SKIZZE19_W, SKIZZE19_H)
        with Locations((43.902000862, 94.618967)):
            Rectangle(SKIZZE19_W, SKIZZE19_H)
        with Locations((43.902000862, 82.618967)):
            Rectangle(SKIZZE19_W, SKIZZE19_H)
        with Locations((43.902000862, 70.618967)):
            Rectangle(SKIZZE19_W, SKIZZE19_H)
        with Locations((43.902000862, 58.618967)):
            Rectangle(SKIZZE19_W, SKIZZE19_H)
        with Locations((43.902000862, 46.618967)):
            Rectangle(SKIZZE19_W, SKIZZE19_H)
        with Locations((43.902000862, 34.618967)):
            Rectangle(SKIZZE19_W, SKIZZE19_H)
        with Locations((43.902000862, 22.618967)):
            Rectangle(SKIZZE19_W, SKIZZE19_H)
    extrude(amount=-SCHNITT_LINEAR_AUSTRAGEN2_DEPTH)


with BuildPart() as schnitt_linear_austragen_d_nn1_piece_1_1:
    add(schnitt_linear_austragen_d_nn1_piece_1.part)

    # Schnitt-Linear austragen2: cut by schnitt_linear_austragen2_tool
    add(schnitt_linear_austragen2_tool.part, mode=Mode.SUBTRACT)

    # Skizze20 → Schnitt-Linear austragen3 (cut)
    with BuildSketch(Plane.XY.offset(3)):
        with Locations((18.5, 238.618967)):
            Rectangle(SKIZZE20_W, SKIZZE20_H)
    extrude(amount=-SCHNITT_LINEAR_AUSTRAGEN3_DEPTH, mode=Mode.SUBTRACT)

    # Skizze22 → Ø5.05 (5.05) Durchmesser Bohrung4 (revolve, cut)
    with BuildSketch(Plane(origin=(37, 238.618967, 3), x_dir=(0, -1, 0), z_dir=(1, 0, 0))):
        Polygon((0, 0), (0, 4.517173063), (2.525, 3), (2.525, 0), align=None)
    revolve(axis=Axis((37, 238.618967, 9.35), (0, 0, -1)), mode=Mode.SUBTRACT)


with BuildPart() as schnitt_linear_austragen_d_nn1_piece_2_1:
    add(schnitt_linear_austragen_d_nn1_piece_2.part)

    # Schnitt-Linear austragen2: cut by schnitt_linear_austragen2_tool
    add(schnitt_linear_austragen2_tool.part, mode=Mode.SUBTRACT)


solid = Compound([schnitt_linear_austragen_d_nn1_piece_1_1.part, schnitt_linear_austragen_d_nn1_piece_2_1.part])
